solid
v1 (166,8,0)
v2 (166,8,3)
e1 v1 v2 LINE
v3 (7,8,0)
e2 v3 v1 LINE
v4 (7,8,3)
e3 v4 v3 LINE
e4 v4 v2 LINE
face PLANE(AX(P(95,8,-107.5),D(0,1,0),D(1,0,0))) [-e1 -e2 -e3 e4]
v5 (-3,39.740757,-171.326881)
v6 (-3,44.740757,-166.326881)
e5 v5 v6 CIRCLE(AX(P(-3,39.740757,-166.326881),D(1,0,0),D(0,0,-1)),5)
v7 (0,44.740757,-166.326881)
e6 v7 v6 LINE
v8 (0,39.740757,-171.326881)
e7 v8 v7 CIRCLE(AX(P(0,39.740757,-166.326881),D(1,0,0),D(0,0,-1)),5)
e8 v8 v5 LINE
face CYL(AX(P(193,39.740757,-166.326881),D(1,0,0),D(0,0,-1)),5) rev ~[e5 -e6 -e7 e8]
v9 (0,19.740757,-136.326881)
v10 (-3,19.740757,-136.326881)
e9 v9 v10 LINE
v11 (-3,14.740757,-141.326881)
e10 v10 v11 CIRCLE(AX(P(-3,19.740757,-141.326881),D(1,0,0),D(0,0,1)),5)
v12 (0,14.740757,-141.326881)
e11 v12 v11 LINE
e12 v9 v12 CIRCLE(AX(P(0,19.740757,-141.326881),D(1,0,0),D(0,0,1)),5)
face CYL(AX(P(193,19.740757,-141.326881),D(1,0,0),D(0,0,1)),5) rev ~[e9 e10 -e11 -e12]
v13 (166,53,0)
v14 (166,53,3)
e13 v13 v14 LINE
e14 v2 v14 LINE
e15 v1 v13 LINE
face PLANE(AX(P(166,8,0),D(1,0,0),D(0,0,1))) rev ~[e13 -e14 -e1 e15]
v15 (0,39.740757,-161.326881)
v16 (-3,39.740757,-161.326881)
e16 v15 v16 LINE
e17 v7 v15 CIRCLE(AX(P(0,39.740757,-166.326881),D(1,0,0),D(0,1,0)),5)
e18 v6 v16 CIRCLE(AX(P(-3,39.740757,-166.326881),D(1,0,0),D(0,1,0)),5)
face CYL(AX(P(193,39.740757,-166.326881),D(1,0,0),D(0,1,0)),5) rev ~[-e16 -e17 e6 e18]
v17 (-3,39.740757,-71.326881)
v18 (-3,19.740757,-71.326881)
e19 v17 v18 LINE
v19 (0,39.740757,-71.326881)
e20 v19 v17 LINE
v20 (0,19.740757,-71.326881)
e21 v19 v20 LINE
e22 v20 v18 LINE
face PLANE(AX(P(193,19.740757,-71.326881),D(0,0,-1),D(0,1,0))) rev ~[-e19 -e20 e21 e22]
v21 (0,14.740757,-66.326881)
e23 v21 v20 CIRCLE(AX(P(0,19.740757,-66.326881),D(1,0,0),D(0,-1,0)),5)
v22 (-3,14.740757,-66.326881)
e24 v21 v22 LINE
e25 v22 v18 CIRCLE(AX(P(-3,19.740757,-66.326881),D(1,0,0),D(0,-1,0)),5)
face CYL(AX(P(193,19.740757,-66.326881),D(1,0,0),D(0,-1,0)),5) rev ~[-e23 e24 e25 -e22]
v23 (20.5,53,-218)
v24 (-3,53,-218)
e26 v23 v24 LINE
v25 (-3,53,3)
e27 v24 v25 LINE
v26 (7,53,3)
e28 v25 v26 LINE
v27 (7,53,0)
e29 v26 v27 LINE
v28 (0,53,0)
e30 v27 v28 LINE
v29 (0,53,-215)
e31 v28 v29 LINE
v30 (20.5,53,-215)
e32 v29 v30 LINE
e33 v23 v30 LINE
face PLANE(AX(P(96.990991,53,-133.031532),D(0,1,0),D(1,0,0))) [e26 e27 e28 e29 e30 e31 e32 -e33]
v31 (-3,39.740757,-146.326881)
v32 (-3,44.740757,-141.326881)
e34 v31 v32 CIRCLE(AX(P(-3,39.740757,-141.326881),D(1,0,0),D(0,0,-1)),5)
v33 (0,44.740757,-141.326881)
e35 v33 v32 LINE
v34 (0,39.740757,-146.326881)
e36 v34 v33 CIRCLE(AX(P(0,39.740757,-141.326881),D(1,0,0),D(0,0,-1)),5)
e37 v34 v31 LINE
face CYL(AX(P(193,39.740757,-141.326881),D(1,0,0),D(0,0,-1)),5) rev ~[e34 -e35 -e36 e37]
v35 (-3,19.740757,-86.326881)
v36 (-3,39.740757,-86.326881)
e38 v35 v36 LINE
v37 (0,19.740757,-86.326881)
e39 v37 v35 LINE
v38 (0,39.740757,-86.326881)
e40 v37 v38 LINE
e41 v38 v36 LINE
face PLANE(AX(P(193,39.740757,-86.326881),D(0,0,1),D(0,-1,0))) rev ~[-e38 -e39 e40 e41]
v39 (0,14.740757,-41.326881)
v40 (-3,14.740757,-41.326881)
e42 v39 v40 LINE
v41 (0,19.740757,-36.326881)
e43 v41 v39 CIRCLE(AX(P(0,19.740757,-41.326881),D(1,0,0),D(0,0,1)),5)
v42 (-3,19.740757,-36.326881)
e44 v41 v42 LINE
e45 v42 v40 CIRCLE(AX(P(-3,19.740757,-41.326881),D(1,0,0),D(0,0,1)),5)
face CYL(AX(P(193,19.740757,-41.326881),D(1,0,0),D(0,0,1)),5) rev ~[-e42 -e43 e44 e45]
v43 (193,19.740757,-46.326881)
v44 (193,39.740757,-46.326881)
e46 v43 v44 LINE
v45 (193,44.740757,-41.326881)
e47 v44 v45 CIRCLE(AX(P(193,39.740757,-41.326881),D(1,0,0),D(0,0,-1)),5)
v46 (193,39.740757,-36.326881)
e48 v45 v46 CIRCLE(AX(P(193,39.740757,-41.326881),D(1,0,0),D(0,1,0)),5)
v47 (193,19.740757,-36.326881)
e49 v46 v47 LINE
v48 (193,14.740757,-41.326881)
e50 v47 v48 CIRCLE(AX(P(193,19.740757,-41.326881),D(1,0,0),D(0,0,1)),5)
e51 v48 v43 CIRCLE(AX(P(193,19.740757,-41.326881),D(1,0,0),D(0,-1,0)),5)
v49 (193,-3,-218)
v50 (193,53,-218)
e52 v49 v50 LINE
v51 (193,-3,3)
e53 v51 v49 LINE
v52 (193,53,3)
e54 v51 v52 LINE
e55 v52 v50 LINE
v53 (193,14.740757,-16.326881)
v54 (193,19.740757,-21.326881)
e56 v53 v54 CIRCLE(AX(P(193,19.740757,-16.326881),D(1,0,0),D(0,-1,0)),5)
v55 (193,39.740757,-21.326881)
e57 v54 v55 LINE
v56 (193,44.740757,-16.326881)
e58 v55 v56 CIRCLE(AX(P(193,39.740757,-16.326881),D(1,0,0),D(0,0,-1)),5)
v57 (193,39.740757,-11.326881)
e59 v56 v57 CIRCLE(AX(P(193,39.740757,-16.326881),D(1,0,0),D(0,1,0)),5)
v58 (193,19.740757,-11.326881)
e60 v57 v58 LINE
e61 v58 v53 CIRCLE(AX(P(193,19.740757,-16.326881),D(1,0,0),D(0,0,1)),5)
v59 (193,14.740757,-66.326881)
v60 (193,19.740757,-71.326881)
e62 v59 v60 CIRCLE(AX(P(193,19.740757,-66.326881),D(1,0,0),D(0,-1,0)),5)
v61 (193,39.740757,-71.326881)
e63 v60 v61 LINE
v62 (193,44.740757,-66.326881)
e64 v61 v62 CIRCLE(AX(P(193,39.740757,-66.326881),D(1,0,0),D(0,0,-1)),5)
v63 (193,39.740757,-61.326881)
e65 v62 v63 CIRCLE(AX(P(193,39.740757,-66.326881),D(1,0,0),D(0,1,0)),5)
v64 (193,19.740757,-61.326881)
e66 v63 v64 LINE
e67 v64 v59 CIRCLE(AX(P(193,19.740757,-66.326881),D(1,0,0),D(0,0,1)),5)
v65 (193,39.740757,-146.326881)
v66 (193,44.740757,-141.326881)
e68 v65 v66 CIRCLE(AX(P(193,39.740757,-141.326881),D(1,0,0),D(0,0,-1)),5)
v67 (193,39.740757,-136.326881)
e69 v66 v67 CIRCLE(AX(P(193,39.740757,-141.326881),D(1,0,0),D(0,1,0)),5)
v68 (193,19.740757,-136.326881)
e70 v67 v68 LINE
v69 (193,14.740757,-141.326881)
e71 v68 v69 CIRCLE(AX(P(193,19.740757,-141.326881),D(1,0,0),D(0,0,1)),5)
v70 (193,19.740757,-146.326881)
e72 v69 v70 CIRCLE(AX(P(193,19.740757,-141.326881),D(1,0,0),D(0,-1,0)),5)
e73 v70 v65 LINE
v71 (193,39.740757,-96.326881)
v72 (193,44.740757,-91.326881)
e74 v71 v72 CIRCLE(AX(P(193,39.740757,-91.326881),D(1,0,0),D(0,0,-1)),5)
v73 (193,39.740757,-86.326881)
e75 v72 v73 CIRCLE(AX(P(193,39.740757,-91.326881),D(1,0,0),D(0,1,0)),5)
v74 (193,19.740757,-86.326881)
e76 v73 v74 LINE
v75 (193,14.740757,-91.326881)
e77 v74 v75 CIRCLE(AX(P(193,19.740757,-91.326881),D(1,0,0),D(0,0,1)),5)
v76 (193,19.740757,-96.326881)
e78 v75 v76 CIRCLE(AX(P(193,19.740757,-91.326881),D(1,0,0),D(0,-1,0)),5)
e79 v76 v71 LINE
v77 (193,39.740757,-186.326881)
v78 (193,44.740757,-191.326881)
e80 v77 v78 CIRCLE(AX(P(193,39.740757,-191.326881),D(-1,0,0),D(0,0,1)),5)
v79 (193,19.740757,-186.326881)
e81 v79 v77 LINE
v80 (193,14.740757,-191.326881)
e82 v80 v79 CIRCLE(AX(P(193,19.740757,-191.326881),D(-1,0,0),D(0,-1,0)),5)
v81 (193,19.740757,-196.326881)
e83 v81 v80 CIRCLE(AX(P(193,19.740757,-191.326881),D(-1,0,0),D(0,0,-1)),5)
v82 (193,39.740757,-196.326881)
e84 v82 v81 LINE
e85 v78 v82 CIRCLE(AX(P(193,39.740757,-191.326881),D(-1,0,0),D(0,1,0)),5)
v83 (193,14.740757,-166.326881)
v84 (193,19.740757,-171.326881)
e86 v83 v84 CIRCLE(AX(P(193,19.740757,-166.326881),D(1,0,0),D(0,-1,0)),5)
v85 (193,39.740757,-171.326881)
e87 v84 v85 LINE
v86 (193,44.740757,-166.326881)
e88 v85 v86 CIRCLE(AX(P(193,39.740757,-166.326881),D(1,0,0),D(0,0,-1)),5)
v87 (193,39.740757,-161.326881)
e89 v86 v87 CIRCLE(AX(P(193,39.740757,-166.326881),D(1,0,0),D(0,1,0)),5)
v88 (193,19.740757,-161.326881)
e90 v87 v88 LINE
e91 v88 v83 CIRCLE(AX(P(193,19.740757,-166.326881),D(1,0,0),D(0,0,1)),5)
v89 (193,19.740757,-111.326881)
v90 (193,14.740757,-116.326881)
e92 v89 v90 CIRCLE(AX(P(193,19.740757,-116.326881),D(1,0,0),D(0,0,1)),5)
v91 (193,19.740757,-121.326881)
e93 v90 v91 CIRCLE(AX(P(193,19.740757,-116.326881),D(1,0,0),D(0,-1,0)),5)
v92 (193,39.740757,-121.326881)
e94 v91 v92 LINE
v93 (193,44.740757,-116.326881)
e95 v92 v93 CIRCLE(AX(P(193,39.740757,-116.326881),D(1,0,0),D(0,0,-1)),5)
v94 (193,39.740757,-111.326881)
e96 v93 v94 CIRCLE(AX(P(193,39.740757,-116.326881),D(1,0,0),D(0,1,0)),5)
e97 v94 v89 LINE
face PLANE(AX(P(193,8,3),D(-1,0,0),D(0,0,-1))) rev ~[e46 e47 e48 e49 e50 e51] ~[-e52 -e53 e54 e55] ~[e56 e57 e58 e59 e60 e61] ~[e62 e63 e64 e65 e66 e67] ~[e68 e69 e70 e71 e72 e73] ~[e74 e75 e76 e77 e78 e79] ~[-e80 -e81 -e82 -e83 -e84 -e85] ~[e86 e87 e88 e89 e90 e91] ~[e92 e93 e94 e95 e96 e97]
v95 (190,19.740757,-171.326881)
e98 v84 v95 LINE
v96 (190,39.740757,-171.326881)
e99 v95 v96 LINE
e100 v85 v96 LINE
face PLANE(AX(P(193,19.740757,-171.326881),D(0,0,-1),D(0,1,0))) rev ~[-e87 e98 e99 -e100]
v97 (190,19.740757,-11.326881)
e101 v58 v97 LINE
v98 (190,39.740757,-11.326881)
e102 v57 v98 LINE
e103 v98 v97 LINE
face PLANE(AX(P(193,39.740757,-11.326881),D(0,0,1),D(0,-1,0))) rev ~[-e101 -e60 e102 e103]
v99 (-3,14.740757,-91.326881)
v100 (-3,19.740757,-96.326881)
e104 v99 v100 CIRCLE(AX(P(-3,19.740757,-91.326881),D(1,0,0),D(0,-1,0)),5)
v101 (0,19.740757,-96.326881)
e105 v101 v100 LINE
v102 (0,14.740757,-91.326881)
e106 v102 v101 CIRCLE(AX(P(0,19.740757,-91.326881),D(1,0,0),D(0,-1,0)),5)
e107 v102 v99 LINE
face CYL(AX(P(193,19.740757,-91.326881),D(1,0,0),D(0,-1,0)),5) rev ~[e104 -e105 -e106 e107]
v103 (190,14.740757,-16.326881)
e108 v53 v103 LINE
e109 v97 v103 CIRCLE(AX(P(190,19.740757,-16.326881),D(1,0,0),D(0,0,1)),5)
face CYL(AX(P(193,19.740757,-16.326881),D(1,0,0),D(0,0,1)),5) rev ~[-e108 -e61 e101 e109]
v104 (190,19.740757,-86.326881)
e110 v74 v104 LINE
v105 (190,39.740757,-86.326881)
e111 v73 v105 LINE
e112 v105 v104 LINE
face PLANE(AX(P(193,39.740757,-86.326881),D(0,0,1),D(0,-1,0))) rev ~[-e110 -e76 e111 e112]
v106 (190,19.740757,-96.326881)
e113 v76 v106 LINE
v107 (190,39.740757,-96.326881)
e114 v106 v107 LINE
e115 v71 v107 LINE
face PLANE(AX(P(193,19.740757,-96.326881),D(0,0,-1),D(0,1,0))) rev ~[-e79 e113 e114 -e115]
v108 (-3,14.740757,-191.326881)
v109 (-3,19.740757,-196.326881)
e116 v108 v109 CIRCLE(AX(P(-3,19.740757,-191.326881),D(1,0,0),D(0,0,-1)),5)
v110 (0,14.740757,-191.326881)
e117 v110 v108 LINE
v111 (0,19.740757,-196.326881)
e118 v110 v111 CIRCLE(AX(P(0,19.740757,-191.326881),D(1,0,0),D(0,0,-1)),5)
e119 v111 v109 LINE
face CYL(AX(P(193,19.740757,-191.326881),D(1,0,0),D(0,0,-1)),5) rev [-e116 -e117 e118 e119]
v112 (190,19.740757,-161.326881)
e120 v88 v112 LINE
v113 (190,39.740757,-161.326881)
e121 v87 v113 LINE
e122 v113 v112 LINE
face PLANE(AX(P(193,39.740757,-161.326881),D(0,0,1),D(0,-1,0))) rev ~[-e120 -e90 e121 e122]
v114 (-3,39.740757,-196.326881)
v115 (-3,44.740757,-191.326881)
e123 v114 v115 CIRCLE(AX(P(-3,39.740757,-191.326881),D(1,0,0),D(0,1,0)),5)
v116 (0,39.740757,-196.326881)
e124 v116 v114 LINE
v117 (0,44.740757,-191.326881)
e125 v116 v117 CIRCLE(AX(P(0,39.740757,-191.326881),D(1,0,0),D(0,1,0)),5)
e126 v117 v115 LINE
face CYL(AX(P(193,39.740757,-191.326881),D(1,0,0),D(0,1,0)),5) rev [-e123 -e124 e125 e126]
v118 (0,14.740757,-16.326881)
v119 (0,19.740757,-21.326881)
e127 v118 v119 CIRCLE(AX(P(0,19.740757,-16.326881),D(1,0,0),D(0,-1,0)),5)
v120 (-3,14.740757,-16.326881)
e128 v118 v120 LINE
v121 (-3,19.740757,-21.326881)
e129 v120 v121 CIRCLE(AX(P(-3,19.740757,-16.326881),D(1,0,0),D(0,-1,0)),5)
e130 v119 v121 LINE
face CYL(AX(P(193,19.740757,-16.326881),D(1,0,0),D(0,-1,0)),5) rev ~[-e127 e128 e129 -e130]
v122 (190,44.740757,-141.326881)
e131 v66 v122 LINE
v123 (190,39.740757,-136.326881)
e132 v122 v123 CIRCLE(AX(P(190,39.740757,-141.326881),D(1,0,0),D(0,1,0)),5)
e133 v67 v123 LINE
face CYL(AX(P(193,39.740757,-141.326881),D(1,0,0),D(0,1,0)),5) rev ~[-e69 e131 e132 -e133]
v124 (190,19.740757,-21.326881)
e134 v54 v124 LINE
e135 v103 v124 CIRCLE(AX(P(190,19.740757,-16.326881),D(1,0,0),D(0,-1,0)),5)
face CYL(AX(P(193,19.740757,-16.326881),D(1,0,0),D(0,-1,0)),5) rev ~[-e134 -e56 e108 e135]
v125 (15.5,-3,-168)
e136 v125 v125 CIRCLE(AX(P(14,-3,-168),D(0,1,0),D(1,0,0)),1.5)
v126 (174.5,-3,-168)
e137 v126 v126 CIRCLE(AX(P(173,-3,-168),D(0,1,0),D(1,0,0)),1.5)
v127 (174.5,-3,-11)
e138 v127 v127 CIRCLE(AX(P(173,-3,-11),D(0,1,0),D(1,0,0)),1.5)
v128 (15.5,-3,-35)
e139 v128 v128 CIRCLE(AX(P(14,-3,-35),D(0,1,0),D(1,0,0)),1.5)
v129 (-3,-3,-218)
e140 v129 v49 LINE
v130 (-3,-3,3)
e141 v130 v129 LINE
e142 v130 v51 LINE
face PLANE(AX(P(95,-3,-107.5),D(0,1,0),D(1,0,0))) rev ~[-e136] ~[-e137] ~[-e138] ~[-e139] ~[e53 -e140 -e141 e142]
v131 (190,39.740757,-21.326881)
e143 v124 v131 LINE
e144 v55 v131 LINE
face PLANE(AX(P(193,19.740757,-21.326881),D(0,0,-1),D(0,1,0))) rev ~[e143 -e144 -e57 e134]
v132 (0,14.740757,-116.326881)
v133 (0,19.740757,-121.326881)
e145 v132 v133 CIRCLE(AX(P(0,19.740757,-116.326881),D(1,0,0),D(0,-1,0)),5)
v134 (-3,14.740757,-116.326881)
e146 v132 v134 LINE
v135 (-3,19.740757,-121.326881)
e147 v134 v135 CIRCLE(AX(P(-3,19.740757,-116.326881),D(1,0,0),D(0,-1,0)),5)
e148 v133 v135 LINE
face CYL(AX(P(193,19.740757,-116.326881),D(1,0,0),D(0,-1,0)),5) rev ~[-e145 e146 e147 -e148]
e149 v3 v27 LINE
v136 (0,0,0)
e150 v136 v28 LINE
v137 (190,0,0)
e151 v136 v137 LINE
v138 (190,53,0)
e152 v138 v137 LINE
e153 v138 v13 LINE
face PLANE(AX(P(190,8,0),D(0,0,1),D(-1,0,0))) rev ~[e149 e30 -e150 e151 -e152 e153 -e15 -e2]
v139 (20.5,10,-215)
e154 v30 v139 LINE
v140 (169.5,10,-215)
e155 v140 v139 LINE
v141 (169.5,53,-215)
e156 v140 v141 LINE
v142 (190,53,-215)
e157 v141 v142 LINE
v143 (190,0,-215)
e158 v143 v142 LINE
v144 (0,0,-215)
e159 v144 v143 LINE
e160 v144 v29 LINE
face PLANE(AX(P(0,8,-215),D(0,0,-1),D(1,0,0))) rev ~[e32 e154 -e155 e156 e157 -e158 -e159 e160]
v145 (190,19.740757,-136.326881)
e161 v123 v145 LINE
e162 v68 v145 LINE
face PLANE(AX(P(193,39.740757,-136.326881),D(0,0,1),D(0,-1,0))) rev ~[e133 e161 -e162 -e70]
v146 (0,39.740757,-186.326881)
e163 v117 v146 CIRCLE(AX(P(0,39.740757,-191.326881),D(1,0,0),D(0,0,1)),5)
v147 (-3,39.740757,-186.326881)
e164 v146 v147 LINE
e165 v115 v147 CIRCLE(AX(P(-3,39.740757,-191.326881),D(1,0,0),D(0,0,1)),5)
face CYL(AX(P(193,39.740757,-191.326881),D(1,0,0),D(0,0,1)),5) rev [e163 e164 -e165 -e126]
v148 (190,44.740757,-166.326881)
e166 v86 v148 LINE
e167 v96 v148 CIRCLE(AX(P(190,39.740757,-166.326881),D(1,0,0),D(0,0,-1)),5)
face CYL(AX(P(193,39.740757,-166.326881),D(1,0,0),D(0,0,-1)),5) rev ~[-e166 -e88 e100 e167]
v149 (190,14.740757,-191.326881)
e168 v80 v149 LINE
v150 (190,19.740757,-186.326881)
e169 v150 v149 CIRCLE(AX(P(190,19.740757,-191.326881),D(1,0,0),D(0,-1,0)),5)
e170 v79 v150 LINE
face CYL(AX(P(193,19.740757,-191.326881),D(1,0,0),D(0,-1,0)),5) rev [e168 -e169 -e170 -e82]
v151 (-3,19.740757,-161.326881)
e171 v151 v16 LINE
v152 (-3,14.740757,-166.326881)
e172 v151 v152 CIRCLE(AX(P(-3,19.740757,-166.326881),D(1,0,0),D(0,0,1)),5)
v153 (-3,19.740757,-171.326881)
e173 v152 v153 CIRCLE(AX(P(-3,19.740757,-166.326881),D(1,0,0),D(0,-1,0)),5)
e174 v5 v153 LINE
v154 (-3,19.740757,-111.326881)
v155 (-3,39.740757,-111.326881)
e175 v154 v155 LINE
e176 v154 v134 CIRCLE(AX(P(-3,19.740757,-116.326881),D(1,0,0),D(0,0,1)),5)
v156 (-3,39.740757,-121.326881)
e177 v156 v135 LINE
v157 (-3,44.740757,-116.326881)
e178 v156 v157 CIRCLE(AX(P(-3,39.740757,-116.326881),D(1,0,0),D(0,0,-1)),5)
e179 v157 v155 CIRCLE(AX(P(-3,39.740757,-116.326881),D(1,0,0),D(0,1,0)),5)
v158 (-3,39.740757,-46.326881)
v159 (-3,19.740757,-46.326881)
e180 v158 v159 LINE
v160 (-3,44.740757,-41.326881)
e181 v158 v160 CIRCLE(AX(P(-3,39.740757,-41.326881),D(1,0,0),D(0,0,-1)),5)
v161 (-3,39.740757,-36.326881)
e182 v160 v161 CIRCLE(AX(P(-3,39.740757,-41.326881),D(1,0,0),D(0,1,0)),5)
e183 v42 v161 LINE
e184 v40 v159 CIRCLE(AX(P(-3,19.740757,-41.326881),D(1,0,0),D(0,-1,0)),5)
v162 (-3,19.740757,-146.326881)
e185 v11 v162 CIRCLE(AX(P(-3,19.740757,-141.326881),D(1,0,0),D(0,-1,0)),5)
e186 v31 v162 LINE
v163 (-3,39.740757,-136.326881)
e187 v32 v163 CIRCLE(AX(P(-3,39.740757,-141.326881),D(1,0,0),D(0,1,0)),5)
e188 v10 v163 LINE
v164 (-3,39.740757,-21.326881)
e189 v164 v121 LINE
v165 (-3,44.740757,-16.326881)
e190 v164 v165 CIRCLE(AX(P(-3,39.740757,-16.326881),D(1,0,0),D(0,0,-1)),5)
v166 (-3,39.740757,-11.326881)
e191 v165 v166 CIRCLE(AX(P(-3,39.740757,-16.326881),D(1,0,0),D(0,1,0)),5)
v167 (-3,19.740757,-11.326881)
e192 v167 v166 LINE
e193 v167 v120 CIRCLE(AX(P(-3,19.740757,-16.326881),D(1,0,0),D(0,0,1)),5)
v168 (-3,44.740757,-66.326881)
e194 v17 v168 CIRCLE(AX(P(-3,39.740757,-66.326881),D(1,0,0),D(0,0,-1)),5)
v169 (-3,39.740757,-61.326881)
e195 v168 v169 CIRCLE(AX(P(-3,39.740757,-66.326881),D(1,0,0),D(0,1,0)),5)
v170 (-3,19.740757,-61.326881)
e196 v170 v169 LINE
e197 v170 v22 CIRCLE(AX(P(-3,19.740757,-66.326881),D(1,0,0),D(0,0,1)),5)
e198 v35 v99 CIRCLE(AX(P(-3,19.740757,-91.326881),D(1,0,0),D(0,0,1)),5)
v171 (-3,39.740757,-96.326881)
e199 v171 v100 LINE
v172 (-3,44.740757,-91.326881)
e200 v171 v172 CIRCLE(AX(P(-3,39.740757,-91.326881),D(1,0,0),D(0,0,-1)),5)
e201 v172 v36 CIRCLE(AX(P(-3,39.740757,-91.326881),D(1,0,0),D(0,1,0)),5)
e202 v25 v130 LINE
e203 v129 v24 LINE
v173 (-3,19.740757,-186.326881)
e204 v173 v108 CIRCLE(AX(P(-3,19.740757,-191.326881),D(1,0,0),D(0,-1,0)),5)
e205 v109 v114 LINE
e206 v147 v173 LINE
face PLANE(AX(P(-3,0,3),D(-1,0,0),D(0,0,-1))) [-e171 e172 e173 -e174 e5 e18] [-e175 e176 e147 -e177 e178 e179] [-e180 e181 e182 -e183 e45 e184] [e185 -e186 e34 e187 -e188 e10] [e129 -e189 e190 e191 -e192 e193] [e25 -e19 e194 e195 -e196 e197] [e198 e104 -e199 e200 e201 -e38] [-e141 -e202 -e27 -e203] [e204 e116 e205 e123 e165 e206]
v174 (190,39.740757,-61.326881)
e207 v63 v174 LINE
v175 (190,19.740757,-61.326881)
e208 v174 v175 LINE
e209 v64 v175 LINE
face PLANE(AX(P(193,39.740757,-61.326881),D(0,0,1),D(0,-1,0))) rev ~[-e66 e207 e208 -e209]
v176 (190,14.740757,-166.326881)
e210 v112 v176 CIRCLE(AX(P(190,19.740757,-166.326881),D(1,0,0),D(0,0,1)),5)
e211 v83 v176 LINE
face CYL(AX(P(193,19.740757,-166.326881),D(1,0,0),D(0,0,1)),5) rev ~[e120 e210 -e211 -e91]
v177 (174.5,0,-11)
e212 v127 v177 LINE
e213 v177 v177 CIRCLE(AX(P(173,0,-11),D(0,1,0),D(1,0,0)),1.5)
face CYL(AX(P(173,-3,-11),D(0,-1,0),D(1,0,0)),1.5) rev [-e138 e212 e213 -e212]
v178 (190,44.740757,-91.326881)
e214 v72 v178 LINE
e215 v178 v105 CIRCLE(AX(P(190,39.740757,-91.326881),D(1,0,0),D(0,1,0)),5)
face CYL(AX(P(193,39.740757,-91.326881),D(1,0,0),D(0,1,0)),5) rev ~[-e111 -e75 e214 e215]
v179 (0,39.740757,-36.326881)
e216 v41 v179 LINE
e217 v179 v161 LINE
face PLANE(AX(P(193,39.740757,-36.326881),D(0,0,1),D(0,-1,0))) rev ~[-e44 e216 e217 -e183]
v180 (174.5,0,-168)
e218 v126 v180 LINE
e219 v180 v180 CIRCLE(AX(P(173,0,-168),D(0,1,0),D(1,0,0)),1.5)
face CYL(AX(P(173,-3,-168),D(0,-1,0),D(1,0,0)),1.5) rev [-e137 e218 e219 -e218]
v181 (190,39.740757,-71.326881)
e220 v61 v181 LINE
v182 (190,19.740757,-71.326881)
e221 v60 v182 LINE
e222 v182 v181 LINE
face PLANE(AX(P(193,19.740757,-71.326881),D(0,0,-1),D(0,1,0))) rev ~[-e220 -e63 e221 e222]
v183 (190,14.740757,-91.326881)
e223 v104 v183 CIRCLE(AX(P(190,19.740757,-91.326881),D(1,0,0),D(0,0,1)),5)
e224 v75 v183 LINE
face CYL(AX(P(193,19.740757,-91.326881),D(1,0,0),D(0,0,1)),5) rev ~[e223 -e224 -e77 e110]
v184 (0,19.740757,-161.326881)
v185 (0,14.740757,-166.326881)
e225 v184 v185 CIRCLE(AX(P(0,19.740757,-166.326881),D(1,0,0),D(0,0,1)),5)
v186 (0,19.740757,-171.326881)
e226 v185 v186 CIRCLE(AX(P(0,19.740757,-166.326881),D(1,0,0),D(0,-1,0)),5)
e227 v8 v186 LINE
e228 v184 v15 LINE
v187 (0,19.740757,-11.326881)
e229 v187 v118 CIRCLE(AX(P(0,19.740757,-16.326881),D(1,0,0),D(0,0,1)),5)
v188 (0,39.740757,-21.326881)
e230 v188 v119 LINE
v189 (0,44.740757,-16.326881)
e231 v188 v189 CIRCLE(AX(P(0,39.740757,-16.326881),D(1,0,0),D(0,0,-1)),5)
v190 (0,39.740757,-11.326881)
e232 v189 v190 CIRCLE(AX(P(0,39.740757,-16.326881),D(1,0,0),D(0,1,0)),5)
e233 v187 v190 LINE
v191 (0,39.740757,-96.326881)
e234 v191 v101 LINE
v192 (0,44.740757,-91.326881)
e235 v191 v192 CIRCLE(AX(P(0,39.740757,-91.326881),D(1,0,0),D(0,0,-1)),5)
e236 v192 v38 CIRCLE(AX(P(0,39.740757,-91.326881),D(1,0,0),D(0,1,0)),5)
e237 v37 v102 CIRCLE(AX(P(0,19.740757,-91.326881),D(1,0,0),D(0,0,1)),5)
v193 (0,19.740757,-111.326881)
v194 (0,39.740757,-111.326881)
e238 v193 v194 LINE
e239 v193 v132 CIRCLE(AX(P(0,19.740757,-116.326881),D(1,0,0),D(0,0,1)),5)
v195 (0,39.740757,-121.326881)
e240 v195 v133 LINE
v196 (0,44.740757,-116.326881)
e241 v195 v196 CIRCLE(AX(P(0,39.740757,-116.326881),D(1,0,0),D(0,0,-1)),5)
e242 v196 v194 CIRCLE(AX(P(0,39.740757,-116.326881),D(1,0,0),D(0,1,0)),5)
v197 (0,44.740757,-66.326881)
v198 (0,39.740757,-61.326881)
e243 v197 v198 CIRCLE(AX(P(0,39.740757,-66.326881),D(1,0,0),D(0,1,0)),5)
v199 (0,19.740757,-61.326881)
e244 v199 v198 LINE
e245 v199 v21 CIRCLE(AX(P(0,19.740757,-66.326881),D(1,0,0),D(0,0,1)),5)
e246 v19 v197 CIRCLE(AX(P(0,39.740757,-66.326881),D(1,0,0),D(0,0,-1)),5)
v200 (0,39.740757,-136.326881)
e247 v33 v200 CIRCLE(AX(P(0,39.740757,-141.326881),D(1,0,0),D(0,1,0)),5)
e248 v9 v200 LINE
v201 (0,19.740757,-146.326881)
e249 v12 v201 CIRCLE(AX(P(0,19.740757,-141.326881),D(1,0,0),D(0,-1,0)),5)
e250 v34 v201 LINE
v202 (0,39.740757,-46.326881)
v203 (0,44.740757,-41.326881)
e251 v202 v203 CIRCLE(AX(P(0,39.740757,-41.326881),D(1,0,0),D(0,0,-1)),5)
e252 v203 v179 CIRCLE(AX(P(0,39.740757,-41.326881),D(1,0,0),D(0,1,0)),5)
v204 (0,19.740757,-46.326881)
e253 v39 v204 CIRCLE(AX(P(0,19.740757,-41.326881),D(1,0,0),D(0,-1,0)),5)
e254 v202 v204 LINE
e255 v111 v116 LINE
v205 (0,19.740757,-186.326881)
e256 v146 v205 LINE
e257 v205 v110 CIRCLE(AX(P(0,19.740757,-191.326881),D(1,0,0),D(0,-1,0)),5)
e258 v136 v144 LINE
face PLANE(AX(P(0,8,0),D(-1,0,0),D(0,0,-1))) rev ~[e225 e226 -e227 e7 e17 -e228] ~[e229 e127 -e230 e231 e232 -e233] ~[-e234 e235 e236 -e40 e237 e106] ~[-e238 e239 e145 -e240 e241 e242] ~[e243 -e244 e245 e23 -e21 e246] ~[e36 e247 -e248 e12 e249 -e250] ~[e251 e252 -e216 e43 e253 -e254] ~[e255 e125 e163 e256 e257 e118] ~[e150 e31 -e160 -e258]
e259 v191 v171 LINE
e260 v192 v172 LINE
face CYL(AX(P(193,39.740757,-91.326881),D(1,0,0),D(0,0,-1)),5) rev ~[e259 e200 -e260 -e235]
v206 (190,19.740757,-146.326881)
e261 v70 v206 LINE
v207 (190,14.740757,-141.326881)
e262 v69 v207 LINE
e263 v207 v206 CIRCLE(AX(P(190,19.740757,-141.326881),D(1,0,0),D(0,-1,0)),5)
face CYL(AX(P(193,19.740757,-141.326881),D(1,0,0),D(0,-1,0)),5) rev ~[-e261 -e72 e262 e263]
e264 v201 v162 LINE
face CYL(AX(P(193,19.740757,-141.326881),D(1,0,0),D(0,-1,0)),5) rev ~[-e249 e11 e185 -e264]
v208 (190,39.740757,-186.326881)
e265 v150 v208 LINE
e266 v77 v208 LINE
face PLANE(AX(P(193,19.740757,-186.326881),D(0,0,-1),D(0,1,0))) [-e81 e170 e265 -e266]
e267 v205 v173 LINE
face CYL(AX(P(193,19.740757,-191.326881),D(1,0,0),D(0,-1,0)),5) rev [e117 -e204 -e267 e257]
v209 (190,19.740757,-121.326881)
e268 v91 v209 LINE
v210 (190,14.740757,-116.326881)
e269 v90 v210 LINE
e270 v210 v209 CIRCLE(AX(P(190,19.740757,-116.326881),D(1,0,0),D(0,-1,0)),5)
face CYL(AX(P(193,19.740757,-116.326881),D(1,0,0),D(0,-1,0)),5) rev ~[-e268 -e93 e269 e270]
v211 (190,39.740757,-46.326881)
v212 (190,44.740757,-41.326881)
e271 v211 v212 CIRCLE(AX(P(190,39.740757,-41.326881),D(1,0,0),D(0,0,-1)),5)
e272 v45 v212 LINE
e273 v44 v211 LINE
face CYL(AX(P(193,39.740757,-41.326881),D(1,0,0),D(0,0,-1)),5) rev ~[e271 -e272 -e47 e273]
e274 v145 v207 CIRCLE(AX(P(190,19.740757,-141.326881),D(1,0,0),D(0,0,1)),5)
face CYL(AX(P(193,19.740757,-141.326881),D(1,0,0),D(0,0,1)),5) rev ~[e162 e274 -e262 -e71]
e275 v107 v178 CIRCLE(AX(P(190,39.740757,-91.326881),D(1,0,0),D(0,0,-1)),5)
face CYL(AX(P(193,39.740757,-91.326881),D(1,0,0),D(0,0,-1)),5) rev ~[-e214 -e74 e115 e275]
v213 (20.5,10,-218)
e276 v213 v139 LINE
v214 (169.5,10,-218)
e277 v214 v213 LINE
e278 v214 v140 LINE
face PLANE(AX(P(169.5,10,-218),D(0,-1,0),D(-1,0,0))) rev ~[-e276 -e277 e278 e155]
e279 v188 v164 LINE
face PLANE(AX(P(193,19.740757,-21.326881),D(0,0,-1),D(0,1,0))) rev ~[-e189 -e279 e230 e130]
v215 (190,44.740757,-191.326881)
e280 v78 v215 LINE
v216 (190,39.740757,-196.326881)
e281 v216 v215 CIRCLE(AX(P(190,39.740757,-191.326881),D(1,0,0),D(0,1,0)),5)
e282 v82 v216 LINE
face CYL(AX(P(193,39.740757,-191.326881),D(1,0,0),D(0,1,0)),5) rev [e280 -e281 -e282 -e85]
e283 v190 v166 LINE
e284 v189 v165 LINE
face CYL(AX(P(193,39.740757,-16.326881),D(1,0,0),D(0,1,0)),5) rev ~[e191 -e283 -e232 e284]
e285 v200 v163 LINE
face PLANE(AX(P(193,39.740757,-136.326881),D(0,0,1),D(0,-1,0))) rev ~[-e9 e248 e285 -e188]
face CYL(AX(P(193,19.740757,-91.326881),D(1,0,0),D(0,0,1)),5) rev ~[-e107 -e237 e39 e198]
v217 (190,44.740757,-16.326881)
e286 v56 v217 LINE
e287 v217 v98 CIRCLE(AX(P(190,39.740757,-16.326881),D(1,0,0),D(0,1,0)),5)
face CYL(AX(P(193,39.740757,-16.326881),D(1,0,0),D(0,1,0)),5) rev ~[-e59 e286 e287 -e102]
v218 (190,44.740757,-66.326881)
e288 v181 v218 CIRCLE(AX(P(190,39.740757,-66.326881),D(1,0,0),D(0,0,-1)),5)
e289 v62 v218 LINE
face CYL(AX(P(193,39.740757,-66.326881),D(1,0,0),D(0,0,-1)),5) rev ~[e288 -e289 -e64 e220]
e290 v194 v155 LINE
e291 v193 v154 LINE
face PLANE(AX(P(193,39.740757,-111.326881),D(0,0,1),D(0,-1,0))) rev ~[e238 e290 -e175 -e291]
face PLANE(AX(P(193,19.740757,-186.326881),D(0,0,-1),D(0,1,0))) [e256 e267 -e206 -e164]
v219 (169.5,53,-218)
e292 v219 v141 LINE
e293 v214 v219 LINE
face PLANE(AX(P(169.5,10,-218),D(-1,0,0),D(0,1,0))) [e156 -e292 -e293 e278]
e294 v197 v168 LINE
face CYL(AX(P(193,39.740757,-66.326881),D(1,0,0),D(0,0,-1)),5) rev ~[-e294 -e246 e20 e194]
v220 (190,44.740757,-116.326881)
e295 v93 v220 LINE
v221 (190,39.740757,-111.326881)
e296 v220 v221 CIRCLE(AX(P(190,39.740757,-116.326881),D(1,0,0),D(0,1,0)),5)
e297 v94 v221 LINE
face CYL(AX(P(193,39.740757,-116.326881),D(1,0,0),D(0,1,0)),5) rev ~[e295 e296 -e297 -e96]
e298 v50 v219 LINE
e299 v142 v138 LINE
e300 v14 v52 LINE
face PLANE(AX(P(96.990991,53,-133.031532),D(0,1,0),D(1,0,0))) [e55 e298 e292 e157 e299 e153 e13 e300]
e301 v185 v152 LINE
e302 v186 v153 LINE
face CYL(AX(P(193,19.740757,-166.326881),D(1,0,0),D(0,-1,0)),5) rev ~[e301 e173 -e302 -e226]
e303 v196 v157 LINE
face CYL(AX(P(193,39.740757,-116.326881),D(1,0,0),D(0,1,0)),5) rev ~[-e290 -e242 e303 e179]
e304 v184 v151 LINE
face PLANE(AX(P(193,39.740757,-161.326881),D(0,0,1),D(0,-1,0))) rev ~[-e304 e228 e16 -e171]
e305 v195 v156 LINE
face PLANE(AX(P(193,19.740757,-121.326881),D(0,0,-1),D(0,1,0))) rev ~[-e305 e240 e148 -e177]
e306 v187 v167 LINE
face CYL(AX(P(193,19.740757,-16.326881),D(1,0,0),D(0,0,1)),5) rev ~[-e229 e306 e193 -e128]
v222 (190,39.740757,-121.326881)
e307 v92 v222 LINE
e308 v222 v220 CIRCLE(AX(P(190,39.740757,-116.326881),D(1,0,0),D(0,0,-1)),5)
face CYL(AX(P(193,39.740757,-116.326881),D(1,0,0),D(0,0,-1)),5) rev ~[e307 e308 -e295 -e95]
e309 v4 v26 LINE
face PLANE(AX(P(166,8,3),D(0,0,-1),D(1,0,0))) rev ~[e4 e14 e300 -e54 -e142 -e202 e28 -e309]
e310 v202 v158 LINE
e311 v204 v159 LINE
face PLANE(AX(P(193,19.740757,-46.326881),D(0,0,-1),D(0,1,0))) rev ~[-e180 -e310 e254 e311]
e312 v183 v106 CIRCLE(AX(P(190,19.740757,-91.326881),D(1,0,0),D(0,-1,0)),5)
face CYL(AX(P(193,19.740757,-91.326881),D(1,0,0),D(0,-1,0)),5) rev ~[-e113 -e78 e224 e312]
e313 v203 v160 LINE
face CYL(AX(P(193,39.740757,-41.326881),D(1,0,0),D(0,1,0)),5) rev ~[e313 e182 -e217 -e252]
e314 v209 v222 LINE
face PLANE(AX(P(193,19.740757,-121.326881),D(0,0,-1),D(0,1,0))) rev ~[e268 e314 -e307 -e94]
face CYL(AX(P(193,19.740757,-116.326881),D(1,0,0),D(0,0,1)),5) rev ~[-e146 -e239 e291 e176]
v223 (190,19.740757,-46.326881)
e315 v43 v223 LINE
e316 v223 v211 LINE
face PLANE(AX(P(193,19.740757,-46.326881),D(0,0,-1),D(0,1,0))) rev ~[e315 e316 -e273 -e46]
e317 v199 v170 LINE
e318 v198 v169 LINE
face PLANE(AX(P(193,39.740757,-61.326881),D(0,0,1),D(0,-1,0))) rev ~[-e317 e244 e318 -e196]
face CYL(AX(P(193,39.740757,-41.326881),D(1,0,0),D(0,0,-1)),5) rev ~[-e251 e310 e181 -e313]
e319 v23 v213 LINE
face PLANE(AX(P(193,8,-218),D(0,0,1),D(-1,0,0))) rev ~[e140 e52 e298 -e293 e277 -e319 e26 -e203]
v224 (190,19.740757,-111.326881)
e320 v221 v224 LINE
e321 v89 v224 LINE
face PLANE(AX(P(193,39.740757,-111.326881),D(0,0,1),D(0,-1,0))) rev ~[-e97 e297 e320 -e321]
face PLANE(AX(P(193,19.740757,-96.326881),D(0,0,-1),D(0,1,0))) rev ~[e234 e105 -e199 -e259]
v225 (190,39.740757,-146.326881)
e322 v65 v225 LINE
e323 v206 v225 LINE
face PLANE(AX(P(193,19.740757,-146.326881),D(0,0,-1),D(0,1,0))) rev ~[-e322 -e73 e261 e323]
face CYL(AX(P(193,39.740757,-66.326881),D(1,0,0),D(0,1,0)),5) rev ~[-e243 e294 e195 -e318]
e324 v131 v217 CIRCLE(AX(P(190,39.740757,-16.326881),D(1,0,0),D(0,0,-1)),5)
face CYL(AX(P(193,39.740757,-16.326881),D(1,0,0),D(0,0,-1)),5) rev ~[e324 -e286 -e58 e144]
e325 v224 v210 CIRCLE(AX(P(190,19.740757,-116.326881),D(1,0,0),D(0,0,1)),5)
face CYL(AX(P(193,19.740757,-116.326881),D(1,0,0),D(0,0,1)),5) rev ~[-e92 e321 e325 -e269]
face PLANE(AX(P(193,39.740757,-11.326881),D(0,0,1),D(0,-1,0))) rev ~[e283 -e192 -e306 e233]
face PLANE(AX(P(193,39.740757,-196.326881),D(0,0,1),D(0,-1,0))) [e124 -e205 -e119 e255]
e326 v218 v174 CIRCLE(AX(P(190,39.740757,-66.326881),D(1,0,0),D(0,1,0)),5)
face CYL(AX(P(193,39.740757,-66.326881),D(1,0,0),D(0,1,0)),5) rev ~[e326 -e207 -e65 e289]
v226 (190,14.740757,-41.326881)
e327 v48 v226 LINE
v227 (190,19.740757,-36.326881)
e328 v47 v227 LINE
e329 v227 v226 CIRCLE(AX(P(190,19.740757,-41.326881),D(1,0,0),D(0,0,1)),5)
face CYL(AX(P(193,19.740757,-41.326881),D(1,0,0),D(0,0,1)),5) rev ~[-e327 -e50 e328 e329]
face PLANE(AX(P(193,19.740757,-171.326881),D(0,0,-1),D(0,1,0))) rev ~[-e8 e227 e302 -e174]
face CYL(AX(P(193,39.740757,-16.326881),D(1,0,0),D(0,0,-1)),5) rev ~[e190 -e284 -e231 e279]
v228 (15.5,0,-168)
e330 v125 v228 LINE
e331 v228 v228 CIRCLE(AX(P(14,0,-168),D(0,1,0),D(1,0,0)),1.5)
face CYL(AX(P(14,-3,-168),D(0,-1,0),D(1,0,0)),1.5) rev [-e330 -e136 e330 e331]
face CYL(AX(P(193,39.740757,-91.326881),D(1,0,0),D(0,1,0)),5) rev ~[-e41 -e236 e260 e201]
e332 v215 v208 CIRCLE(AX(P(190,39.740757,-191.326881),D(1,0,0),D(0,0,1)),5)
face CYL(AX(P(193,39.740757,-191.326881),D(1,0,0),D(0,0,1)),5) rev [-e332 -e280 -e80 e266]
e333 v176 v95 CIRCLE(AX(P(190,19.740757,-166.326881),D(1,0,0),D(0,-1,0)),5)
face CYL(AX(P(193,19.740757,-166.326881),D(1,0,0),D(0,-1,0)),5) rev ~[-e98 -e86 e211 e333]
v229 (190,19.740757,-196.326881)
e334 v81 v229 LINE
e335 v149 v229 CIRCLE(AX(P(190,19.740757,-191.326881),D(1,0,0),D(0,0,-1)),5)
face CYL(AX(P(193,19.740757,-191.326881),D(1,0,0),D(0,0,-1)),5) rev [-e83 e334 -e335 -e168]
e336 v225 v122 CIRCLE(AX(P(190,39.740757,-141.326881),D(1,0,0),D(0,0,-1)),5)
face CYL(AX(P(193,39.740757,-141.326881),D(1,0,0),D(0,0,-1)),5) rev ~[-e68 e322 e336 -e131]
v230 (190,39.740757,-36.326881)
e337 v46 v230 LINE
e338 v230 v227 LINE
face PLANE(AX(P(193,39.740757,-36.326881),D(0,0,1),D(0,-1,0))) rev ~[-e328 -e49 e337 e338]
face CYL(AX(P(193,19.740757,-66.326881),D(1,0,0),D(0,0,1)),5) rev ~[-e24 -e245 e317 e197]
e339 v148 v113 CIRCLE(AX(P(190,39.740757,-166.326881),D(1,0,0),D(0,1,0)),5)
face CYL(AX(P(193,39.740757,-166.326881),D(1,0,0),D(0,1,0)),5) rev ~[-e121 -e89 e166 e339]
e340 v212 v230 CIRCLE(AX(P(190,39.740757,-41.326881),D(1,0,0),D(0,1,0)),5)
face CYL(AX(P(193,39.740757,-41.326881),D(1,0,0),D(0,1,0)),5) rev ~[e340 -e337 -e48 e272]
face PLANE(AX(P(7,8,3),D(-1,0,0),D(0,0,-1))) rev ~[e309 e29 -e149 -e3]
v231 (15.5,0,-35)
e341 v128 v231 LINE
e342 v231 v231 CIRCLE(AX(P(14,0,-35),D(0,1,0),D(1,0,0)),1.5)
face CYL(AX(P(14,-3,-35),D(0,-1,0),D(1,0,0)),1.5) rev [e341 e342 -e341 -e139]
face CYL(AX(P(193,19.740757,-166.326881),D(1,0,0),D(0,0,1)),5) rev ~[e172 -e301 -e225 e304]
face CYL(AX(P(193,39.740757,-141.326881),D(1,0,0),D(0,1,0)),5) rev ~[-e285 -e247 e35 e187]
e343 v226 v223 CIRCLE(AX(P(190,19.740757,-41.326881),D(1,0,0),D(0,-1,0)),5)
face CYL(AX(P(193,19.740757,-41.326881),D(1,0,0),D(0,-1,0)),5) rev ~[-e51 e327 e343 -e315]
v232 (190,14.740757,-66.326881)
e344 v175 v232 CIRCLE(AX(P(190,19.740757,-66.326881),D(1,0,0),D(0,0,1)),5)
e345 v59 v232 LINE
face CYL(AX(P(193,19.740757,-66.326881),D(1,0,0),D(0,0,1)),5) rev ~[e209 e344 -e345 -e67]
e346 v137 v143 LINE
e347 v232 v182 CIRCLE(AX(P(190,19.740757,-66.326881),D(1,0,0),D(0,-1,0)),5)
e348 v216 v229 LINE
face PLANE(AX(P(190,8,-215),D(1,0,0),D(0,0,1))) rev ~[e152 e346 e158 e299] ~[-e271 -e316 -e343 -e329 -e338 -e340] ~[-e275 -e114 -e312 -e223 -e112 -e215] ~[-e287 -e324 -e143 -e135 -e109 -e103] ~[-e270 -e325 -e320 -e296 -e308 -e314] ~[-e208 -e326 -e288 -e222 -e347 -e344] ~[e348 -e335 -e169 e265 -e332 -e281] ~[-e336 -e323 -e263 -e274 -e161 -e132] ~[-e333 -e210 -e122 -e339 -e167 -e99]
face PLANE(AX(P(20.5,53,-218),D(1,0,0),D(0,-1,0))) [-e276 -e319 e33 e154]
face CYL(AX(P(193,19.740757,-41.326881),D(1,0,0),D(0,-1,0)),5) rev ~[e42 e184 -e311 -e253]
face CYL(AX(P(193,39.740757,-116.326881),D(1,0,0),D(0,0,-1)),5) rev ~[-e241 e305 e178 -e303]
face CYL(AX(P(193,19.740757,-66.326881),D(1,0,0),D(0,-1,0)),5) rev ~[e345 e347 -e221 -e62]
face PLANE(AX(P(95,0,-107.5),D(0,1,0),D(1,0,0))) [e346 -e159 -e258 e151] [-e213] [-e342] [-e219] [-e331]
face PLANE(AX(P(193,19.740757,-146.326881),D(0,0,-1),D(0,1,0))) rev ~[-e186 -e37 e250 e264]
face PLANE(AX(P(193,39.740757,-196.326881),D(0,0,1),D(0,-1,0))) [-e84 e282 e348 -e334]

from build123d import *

# Parameters (mm, degrees)
SKETCH_2_W          = 196
SKETCH_2_H          = 221
SKETCH_2_R          = 1.5
EXTRUDE_8_DEPTH     = 3
SKETCH_1_W          = 196
SKETCH_1_H          = 221
SKETCH_1_W_2        = 190
SKETCH_1_H_2        = 215
EXTRUDE_9_DEPTH     = 8
EXTRUDE_10_DEPTH    = 45
CUT_EXTRUDE_1_DEPTH = 5
CUT_EXTRUDE_2_DEPTH = 209


with BuildPart() as part:
    # 草图2 → 凸台-拉伸8 (new body)
    with BuildSketch(Plane(origin=(0, -3, 0), x_dir=(1, 0, 0), z_dir=(0, 1, 0))):
        with Locations((95, 107.5)):
            Rectangle(SKETCH_2_W, SKETCH_2_H)
        with Locations((14, 168)):
            Circle(SKETCH_2_R, mode=Mode.SUBTRACT)
        with Locations((173, 168)):
            Circle(SKETCH_2_R, mode=Mode.SUBTRACT)
        with Locations((173, 11)):
            Circle(SKETCH_2_R, mode=Mode.SUBTRACT)
        with Locations((14, 35)):
            Circle(SKETCH_2_R, mode=Mode.SUBTRACT)
    extrude(amount=EXTRUDE_8_DEPTH)

    # 草图1 → 凸台-拉伸9 (add)
    with BuildSketch(Plane(origin=(0, 0, 0), x_dir=(1, 0, 0), z_dir=(0, 1, 0))):
        with Locations((95, 107.5)):
            Rectangle(SKETCH_1_W, SKETCH_1_H)
        with Locations((95, 107.5)):
            Rectangle(SKETCH_1_W_2, SKETCH_1_H_2, mode=Mode.SUBTRACT)
    extrude(amount=EXTRUDE_9_DEPTH)

    # 草图9 → 凸台-拉伸10 (add)
    with BuildSketch(Plane(origin=(0, 8, 0), x_dir=(1, 0, 0), z_dir=(0, 1, 0))):
        Polygon((166, -3), (193, -3), (193, 218), (-3, 218), (-3, -3), (7, -3), (7, 0), (0, 0), (0, 215), (190, 215), (190, 0), (166, 0), align=None)
    extrude(amount=EXTRUDE_10_DEPTH)

    # 草图10 → 切除-拉伸1 (cut)
    with BuildSketch(Plane(origin=(0, 0, -218), x_dir=(-1, 0, 0), z_dir=(0, 0, -1))):
        Polygon((-95, 10), (-169.5, 10), (-169.5, 53), (-20.5, 53), (-20.5, 10), align=None)
    extrude(amount=-CUT_EXTRUDE_1_DEPTH, mode=Mode.SUBTRACT)

    # 草图11 → 切除-拉伸2 (cut)
    with BuildSketch(Plane(origin=(193, 0, 0), x_dir=(0, 0, -1), z_dir=(1, 0, 0))):
        with BuildLine():
            Line((196.326880945, 39.740756609), (196.326880945, 19.740756609))
            ThreePointArc((196.326880945, 19.740756609), (194.862414851, 16.205222703), (191.326880945, 14.740756609))
            ThreePointArc((191.326880945, 14.740756609), (187.791347039, 16.205222703), (186.326880945, 19.740756609))
            Line((186.326880945, 19.740756609), (186.326880945, 39.740756609))
            ThreePointArc((186.326880945, 39.740756609), (187.791347039, 43.276290515), (191.326880945, 44.740756609))
            ThreePointArc((191.326880945, 44.740756609), (194.862414851, 43.276290515), (196.326880945, 39.740756609))
        make_face()
        with BuildLine():
            Line((36.326880945, 39.740756609), (36.326880945, 19.740756609))
            ThreePointArc((36.326880945, 19.740756609), (37.791347039, 16.205222703), (41.326880945, 14.740756609))
            ThreePointArc((41.326880945, 14.740756609), (44.862414851, 16.205222703), (46.326880945, 19.740756609))
            Line((46.326880945, 19.740756609), (46.326880945, 39.740756609))
            ThreePointArc((46.326880945, 39.740756609), (44.862414851, 43.276290515), (41.326880945, 44.740756609))
            ThreePointArc((41.326880945, 44.740756609), (37.791347039, 43.276290515), (36.326880945, 39.740756609))
        make_face()
        with BuildLine():
            Line((11.326880945, 39.740756609), (11.326880945, 19.740756609))
            ThreePointArc((11.326880945, 19.740756609), (12.791347039, 16.205222703), (16.326880945, 14.740756609))
            ThreePointArc((16.326880945, 14.740756609), (19.862414851, 16.205222703), (21.326880945, 19.740756609))
            Line((21.326880945, 19.740756609), (21.326880945, 39.740756609))
            ThreePointArc((21.326880945, 39.740756609), (19.862414851, 43.276290515), (16.326880945, 44.740756609))
            ThreePointArc((16.326880945, 44.740756609), (12.791347039, 43.276290515), (11.326880945, 39.740756609))
        make_face()
        with BuildLine():
            Line((61.326880945, 39.740756609), (61.326880945, 19.740756609))
            ThreePointArc((61.326880945, 19.740756609), (62.791347039, 16.205222703), (66.326880945, 14.740756609))
            ThreePointArc((66.326880945, 14.740756609), (69.862414851, 16.205222703), (71.326880945, 19.740756609))
            Line((71.326880945, 19.740756609), (71.326880945, 39.740756609))
            ThreePointArc((71.326880945, 39.740756609), (69.862414851, 43.276290515), (66.326880945, 44.740756609))
            ThreePointArc((66.326880945, 44.740756609), (62.791347039, 43.276290515), (61.326880945, 39.740756609))
        make_face()
        with BuildLine():
            Line((86.326880945, 39.740756609), (86.326880945, 19.740756609))
            ThreePointArc((86.326880945, 19.740756609), (87.791347039, 16.205222703), (91.326880945, 14.740756609))
            ThreePointArc((91.326880945, 14.740756609), (94.862414851, 16.205222703), (96.326880945, 19.740756609))
            Line((96.326880945, 19.740756609), (96.326880945, 39.740756609))
            ThreePointArc((96.326880945, 39.740756609), (94.862414851, 43.276290515), (91.326880945, 44.740756609))
            ThreePointArc((91.326880945, 44.740756609), (87.791347039, 43.276290515), (86.326880945, 39.740756609))
        make_face()
        with BuildLine():
            Line((111.326880945, 39.740756609), (111.326880945, 19.740756609))
            ThreePointArc((111.326880945, 19.740756609), (112.791347039, 16.205222703), (116.326880945, 14.740756609))
            ThreePointArc((116.326880945, 14.740756609), (119.862414851, 16.205222703), (121.326880945, 19.740756609))
            Line((121.326880945, 19.740756609), (121.326880945, 39.740756609))
            ThreePointArc((121.326880945, 39.740756609), (119.862414851, 43.276290515), (116.326880945, 44.740756609))
            ThreePointArc((116.326880945, 44.740756609), (112.791347039, 43.276290515), (111.326880945, 39.740756609))
        make_face()
        with BuildLine():
            Line((136.326880945, 39.740756609), (136.326880945, 19.740756609))
            ThreePointArc((136.326880945, 19.740756609), (137.791347039, 16.205222703), (141.326880945, 14.740756609))
            ThreePointArc((141.326880945, 14.740756609), (144.862414851, 16.205222703), (146.326880945, 19.740756609))
            Line((146.326880945, 19.740756609), (146.326880945, 39.740756609))
            ThreePointArc((146.326880945, 39.740756609), (144.862414851, 43.276290515), (141.326880945, 44.740756609))
            ThreePointArc((141.326880945, 44.740756609), (137.791347039, 43.276290515), (136.326880945, 39.740756609))
        make_face()
        with BuildLine():
            Line((161.326880945, 39.740756609), (161.326880945, 19.740756609))
            ThreePointArc((161.326880945, 19.740756609), (162.791347039, 16.205222703), (166.326880945, 14.740756609))
            ThreePointArc((166.326880945, 14.740756609), (169.862414851, 16.205222703), (171.326880945, 19.740756609))
            Line((171.326880945, 19.740756609), (171.326880945, 39.740756609))
            ThreePointArc((171.326880945, 39.740756609), (169.862414851, 43.276290515), (166.326880945, 44.740756609))
            ThreePointArc((166.326880945, 44.740756609), (162.791347039, 43.276290515), (161.326880945, 39.740756609))
        make_face()
    extrude(amount=-CUT_EXTRUDE_2_DEPTH, mode=Mode.SUBTRACT)


solid = part.part
